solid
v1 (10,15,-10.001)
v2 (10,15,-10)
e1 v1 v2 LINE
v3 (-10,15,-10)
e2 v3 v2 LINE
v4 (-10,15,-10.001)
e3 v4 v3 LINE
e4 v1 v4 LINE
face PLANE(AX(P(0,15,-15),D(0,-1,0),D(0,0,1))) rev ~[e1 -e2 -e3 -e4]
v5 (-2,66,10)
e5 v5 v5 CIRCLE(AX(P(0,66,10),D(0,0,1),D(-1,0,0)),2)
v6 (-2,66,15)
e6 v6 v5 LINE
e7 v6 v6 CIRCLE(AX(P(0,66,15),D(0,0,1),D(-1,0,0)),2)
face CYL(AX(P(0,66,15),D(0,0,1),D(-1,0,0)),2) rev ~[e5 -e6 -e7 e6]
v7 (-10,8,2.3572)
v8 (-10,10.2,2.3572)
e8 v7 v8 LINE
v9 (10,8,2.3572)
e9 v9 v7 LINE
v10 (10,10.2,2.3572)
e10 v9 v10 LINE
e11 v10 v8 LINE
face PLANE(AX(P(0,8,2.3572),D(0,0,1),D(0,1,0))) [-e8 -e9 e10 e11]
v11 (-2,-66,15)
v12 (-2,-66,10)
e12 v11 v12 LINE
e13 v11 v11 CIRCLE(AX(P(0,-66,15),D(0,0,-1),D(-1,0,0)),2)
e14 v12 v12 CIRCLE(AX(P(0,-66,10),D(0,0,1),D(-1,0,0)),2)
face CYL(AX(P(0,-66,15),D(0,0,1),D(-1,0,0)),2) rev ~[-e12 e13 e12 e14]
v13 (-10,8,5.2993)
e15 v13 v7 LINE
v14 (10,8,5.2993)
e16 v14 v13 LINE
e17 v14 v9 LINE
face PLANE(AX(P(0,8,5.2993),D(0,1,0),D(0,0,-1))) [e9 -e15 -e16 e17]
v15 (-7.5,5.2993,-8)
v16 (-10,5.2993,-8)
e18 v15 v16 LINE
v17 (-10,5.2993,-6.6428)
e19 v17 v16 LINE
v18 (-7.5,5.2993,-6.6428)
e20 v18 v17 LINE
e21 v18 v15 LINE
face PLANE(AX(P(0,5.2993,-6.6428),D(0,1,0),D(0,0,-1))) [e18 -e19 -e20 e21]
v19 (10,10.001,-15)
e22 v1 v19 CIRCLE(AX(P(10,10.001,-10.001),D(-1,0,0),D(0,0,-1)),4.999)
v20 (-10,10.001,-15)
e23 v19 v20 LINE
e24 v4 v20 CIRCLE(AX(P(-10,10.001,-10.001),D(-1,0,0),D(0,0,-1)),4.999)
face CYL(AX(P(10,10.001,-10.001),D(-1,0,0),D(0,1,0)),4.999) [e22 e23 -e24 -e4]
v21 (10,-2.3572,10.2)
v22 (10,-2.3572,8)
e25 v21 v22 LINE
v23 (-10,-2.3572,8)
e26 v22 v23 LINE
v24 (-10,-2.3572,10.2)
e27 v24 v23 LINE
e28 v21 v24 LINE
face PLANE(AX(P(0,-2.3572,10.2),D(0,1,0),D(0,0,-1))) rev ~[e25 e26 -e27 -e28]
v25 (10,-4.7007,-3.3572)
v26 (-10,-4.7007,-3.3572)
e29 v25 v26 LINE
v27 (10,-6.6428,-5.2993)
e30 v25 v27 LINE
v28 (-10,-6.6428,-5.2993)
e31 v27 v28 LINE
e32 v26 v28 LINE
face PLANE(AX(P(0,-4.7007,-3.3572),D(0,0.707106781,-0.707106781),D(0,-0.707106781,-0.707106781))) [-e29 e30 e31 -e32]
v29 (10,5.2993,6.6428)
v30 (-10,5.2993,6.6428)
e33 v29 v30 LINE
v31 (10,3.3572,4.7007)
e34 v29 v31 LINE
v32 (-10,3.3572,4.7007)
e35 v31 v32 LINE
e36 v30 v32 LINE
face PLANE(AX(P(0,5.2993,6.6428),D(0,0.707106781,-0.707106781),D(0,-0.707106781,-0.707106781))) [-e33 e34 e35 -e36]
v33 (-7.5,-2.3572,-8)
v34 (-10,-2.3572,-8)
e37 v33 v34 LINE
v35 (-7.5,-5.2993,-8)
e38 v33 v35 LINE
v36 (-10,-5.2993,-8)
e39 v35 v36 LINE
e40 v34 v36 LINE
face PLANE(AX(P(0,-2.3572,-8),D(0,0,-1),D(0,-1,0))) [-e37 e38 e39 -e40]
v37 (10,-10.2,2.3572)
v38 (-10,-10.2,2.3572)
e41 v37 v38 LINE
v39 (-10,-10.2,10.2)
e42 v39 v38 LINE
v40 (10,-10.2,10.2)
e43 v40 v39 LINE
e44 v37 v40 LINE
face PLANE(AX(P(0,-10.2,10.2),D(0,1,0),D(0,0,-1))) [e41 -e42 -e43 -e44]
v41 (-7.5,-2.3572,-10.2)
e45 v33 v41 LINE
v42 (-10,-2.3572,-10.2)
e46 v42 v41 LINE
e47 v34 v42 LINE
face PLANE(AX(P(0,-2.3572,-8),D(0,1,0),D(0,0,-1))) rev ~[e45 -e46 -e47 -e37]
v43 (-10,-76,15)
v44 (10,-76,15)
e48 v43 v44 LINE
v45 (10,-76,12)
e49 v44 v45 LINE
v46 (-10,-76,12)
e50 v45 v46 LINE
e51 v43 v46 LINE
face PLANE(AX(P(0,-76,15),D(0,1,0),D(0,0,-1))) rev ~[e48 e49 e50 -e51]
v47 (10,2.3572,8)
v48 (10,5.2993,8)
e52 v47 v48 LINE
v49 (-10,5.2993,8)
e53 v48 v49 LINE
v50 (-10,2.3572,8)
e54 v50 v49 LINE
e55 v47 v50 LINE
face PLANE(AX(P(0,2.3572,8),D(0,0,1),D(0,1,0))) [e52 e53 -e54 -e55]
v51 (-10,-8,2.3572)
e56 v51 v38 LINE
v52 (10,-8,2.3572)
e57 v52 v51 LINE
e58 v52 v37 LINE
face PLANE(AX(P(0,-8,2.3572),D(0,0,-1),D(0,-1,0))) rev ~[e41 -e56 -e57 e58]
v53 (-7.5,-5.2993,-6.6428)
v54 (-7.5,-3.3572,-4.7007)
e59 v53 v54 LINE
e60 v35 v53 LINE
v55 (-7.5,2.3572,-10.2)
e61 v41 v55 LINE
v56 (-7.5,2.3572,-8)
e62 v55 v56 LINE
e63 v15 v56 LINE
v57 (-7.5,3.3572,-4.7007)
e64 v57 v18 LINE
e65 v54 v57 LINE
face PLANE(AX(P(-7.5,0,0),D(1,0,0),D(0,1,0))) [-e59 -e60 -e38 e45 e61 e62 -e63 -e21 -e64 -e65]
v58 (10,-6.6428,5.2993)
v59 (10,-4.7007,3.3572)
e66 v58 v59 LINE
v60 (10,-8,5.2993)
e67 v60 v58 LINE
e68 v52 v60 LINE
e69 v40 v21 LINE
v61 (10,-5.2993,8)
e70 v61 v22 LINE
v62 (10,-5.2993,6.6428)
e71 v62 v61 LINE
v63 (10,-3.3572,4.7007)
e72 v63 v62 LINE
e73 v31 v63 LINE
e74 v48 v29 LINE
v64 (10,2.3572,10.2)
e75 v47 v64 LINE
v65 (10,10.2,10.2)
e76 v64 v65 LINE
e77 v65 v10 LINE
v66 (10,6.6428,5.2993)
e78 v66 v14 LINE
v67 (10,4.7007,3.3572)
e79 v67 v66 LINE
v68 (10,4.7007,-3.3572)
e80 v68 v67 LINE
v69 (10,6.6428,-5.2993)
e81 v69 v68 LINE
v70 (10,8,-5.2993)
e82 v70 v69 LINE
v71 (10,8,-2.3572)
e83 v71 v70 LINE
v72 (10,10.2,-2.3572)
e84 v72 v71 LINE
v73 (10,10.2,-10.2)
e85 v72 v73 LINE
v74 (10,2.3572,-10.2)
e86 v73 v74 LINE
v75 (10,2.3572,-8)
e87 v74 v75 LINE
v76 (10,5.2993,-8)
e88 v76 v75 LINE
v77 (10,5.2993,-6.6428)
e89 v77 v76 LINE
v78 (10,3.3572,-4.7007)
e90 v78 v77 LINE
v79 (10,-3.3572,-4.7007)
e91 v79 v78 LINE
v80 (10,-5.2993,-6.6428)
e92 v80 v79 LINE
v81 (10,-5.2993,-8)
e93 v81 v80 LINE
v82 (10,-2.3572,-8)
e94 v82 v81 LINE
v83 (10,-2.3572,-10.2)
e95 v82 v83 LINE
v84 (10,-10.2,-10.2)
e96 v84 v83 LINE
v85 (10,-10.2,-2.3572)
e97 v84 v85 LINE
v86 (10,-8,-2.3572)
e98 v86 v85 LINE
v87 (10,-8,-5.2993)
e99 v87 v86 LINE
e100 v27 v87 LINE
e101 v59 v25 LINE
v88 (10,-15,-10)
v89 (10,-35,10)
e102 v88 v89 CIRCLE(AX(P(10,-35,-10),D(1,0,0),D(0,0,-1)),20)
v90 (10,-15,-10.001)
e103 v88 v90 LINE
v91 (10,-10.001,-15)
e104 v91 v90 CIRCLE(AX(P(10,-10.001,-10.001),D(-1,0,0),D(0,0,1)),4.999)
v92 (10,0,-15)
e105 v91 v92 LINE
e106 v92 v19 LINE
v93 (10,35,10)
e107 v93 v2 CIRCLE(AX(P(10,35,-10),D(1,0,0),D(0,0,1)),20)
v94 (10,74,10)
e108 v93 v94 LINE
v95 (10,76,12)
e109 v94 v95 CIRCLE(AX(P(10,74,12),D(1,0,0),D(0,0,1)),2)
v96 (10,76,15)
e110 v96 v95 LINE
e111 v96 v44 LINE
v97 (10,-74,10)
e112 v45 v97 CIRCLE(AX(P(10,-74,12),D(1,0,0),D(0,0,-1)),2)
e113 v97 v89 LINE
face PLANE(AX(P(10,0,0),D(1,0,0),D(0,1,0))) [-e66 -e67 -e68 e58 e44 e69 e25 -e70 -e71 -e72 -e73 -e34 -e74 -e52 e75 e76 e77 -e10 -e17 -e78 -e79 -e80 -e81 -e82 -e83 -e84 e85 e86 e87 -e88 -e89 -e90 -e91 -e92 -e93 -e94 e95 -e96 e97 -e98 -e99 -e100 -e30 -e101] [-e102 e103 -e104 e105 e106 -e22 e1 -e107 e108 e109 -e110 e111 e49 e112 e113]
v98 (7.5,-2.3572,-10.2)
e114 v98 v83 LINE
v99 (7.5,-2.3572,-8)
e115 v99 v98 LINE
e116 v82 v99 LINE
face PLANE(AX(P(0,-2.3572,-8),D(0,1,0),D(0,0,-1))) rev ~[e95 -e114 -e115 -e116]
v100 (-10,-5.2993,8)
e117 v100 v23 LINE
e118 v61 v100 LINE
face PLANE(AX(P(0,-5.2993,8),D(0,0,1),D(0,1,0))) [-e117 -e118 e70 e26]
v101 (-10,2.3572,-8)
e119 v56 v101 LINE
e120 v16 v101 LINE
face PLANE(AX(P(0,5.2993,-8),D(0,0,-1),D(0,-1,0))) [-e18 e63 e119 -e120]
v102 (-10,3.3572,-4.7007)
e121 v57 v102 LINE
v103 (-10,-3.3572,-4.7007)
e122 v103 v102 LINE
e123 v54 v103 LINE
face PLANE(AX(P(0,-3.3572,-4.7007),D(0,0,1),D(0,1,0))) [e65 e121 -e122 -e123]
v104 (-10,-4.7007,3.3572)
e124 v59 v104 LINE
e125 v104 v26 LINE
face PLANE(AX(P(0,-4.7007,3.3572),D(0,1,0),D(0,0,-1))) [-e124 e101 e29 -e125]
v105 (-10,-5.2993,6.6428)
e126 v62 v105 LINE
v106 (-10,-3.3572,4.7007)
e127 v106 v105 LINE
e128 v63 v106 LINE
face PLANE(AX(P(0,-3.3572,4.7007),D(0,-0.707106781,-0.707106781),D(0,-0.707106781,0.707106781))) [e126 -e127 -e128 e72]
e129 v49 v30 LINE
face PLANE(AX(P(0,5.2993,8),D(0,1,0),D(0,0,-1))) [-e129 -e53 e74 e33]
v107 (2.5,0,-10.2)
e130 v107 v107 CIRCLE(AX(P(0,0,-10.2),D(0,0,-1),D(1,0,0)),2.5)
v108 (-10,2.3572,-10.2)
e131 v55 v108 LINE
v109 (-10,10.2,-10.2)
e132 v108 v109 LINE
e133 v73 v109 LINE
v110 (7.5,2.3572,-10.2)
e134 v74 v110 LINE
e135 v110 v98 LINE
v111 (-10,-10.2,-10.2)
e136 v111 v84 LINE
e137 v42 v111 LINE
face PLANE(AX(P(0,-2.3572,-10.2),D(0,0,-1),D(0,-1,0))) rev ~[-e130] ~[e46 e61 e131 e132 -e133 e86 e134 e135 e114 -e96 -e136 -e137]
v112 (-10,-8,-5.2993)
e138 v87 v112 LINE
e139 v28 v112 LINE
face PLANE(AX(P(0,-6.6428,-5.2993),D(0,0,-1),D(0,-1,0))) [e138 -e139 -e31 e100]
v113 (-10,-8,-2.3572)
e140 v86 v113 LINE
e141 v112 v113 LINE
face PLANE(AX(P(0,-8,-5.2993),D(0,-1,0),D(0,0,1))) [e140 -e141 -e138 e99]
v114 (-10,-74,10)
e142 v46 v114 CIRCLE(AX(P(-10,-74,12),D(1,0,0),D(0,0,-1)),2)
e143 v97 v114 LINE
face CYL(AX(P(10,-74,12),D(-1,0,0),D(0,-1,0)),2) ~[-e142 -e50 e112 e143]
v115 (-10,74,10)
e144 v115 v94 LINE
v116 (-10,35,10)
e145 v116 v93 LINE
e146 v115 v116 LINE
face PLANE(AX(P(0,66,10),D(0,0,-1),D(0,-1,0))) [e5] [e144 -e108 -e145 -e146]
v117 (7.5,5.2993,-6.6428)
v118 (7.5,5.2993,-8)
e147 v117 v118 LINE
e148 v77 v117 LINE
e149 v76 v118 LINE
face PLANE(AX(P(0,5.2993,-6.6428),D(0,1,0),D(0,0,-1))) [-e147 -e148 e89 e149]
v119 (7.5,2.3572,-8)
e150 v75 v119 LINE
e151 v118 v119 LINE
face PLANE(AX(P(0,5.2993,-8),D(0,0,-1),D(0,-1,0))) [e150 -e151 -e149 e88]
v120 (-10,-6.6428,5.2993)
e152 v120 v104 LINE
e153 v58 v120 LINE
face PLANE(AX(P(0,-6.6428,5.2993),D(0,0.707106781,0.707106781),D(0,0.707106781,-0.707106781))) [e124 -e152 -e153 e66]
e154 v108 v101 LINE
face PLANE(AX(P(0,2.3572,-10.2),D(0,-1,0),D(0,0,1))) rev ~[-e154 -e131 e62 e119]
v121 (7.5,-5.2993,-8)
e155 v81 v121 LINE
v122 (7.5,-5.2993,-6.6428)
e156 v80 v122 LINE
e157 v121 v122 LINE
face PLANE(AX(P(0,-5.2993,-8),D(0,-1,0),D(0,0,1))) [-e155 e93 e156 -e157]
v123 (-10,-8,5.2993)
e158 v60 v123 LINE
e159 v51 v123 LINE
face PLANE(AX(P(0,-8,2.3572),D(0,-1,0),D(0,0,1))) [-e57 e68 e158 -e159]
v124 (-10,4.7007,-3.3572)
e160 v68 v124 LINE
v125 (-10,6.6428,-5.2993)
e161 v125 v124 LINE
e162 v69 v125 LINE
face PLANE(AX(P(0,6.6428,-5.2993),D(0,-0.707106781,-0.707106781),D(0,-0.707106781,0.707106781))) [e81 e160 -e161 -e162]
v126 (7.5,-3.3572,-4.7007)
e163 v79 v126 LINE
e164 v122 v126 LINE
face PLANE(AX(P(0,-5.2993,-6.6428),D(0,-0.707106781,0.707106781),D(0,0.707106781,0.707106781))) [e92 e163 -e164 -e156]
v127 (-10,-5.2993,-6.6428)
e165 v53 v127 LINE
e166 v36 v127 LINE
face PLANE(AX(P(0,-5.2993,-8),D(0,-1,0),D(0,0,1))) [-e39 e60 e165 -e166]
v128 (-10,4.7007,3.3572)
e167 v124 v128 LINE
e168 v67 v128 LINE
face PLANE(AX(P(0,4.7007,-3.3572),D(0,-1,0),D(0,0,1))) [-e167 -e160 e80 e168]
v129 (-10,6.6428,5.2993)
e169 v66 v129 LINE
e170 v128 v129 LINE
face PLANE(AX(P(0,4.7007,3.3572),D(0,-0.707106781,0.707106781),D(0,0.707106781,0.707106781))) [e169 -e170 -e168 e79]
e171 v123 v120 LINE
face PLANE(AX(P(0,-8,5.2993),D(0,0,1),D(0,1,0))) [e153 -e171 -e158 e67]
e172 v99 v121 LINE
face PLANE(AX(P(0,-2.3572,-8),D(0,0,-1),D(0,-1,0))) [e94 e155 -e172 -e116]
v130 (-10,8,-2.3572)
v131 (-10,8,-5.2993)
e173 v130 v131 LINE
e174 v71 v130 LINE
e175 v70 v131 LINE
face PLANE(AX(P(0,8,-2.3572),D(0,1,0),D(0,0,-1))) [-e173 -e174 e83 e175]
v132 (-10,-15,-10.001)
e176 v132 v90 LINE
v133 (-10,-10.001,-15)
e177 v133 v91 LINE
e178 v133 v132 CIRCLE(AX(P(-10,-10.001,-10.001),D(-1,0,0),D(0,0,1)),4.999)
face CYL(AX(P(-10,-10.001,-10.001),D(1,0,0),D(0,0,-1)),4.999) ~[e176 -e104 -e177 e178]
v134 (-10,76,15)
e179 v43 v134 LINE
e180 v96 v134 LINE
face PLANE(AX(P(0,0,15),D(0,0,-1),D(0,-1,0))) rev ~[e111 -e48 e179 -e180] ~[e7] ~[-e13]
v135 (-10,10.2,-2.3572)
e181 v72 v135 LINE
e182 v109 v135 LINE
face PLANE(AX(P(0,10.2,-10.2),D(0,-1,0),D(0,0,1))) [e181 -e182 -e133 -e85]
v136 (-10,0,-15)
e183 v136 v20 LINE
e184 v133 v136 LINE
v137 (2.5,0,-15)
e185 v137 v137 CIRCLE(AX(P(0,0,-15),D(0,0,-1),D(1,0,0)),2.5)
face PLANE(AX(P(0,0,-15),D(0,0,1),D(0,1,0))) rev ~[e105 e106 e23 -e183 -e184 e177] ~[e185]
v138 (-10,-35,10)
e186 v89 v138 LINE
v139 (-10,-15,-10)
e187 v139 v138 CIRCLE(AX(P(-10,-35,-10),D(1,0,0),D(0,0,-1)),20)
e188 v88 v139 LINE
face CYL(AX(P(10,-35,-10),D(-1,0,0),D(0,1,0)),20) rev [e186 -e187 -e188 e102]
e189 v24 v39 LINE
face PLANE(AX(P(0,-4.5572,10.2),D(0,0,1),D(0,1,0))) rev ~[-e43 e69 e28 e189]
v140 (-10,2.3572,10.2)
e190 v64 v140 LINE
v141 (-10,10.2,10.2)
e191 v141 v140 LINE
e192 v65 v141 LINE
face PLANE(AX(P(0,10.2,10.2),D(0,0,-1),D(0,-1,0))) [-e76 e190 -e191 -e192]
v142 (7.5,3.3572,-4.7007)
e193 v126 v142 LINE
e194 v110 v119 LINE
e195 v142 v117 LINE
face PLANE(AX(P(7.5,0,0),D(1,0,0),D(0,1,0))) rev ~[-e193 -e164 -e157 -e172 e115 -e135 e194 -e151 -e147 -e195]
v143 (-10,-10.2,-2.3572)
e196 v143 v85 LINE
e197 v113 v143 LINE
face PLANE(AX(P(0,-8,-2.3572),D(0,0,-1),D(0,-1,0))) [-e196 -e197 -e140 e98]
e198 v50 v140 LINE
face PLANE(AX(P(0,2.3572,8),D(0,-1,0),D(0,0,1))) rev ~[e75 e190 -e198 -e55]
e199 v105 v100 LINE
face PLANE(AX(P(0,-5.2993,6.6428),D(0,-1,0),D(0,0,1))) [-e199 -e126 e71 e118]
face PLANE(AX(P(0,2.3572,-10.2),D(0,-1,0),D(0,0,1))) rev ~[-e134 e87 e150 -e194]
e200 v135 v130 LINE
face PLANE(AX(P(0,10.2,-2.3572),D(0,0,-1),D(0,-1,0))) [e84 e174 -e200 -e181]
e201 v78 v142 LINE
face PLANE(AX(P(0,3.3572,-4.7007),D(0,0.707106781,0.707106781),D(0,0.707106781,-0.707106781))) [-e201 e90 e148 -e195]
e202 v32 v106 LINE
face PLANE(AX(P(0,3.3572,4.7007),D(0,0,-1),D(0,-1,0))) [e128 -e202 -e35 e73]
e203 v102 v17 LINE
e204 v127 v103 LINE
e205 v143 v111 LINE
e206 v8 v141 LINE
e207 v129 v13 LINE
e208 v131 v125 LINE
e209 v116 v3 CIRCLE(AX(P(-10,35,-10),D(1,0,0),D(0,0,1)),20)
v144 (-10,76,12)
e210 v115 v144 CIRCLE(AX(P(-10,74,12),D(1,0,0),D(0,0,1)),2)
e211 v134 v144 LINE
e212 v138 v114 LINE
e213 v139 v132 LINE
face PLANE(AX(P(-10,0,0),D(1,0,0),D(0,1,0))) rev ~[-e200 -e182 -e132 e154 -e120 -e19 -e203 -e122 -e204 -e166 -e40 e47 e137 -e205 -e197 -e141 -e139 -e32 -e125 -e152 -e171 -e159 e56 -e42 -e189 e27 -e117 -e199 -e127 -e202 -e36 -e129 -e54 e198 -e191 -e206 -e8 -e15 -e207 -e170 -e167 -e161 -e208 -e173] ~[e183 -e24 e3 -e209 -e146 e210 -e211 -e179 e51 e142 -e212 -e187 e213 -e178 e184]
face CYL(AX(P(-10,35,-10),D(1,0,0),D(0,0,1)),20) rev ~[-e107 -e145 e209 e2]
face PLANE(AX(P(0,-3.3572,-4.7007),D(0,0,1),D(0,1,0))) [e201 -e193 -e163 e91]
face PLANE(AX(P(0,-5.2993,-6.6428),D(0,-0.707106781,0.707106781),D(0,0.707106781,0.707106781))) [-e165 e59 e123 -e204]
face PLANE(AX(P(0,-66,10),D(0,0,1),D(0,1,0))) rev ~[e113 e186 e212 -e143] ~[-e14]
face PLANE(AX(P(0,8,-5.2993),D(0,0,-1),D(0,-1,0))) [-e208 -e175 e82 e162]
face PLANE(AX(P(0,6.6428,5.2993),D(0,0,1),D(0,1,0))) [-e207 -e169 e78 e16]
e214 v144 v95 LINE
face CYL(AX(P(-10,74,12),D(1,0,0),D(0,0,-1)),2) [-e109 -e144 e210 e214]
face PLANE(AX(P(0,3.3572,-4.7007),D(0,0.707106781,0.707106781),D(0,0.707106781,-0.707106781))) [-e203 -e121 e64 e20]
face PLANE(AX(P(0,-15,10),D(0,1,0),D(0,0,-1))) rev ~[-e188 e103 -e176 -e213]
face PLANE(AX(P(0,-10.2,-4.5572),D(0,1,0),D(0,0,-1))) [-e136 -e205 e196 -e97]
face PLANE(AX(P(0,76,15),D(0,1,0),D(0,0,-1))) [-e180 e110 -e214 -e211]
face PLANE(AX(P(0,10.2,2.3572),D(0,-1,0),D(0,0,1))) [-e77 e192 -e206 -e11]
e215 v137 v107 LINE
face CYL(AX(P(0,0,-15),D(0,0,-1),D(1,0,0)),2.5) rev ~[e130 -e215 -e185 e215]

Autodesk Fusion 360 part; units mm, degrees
sketch "Sketch1" plane through (0, 0, 0) normal (1, 0, 0) x (0, 1, 0)
  line L0 (3.44, 4.5007) -> (-3.44, 4.5007)
  line L1 (2.3572, -10.2) -> (2.3572, -8)
  line L2 (5.2993, 8) -> (5.2993, 6.6428)
  line L3 (-8.2, 5.4993) -> (-6.56, 5.4993)
  line L4 (4.7007, 3.3572) -> (6.6428, 5.2993)
  line L5 (5.2993, -6.6428) -> (5.2993, -8)
  line L6 (-8.2, -5.4993) -> (-8.2, -2.84)
  line L7 (-5.4993, -6.56) -> (-3.44, -4.5007)
  line L8 (-3.3572, 4.7007) -> (-5.2993, 6.6428)
  line L9 (8, 2.3572) -> (10.2, 4.5572)
  line L10 (10, -10) -> (10, -4.64)
  line L11 (10.2, -2.3572) -> (8, -2.3572)
  line L12 (5.4993, 6.56) -> (3.44, 4.5007)
  line L13 (8.2, 2.84) -> (10, 4.64)
  line L14 (-5.2993, 6.6428) -> (-5.2993, 8)
  line L15 (-8.2, 2.84) -> (-8.2, 5.4993)
  line L16 (-6.6428, -5.2993) -> (-8, -5.2993)
  line L17 (-10, 4.64) -> (-8.2, 2.84)
  line L18 (10.2, 10.2) -> (4.5572, 10.2)
  line L19 (-4.5572, 10.2) -> (-10.2, 10.2)
  line L20 (3.3572, 4.7007) -> (-3.3572, 4.7007)
  line L21 (-10.2, 2.3572) -> (-10.2, 4.5572)
  line L22 (10, 4.64) -> (10, 10)
  line L23 (-2.3572, 10.2) -> (-2.3572, 8)
  line L24 (-8, 2.3572) -> (-10.2, 2.3572)
  line L25 (-2.3572, 8) -> (-4.5572, 10.2)
  line L26 (6.56, 5.4993) -> (8.2, 5.4993)
  line L27 (-2.84, -8.2) -> (-5.4993, -8.2)
  line L28 (8, 2.3572) -> (10.2, 2.3572)
  line L29 (4.5007, 3.44) -> (6.56, 5.4993)
  line L30 (2.3572, -8) -> (4.5572, -10.2)
  line L31 (10.2, 2.3572) -> (10.2, 4.5572)
  line L32 (2.84, 8.2) -> (5.4993, 8.2)
  line L33 (4.64, 10) -> (2.84, 8.2)
  line L34 (4.5572, 10.2) -> (2.3572, 8)
  line L35 (10.2, -4.5572) -> (10.2, -2.3572)
  line L36 (10, -4.64) -> (8.2, -2.84)
  line L37 (10.2, -10.2) -> (10.2, -4.5572)
  line L38 (-3.3572, -4.7007) -> (3.3572, -4.7007)
  line L39 (-3.44, -4.5007) -> (3.44, -4.5007)
  line L40 (5.4993, -8.2) -> (2.84, -8.2)
  line L41 (5.4993, -6.56) -> (5.4993, -8.2)
  line L42 (8, -5.2993) -> (6.6428, -5.2993)
  line L43 (4.7007, -3.3572) -> (4.7007, 3.3572)
  line L44 (6.6428, -5.2993) -> (4.7007, -3.3572)
  line L45 (5.2993, -8) -> (2.3572, -8)
  line L46 (4.5572, -10.2) -> (10.2, -10.2)
  circle A0 centre (0, 0) radius 2.5
  line L47 (-15, 15) -> (15, -15) construction
  line L48 (10.2, -4.5572) -> (8, -2.3572)
  line L49 (8.2, -5.4993) -> (6.56, -5.4993)
  line L50 (4.5007, -3.44) -> (4.5007, 3.44)
  line L51 (15, -15) -> (15, 15)
  line L52 (8.2, -2.84) -> (8.2, -5.4993)
  line L53 (4.5572, -10.2) -> (2.3572, -10.2)
  line L54 (-15, -15) -> (15, -15)
  line L55 (15, 15) -> (-15, 15)
  line L56 (4.64, -10) -> (10, -10)
  line L57 (6.56, -5.4993) -> (4.5007, -3.44)
  line L58 (-15, 15) -> (-15, -15)
  line L59 (3.3572, -4.7007) -> (5.2993, -6.6428)
  line L60 (2.84, -8.2) -> (4.64, -10)
  line L61 (8, -2.3572) -> (8, -5.2993)
  line L62 (3.44, -4.5007) -> (5.4993, -6.56)
  line L63 (15, 15) -> (-15, -15) construction
  line L64 (-8.2, -2.84) -> (-10, -4.64)
  line L65 (-8, 5.2993) -> (-6.6428, 5.2993)
  line L66 (-8, -5.2993) -> (-8, -2.3572)
  line L67 (-3.44, 4.5007) -> (-5.4993, 6.56)
  line L68 (-5.4993, -8.2) -> (-5.4993, -6.56)
  line L69 (-4.5007, 3.44) -> (-4.5007, -3.44)
  line L70 (-5.4993, 6.56) -> (-5.4993, 8.2)
  line L71 (-10, -4.64) -> (-10, -10)
  line L72 (-10.2, 4.5572) -> (-8, 2.3572)
  line L73 (10.2, 4.5572) -> (10.2, 10.2)
  line L74 (8, 5.2993) -> (8, 2.3572)
  line L75 (2.3572, 8) -> (5.2993, 8)
  line L76 (-8, -2.3572) -> (-10.2, -4.5572)
  line L77 (-5.2993, -6.6428) -> (-3.3572, -4.7007)
  line L78 (-4.5572, -10.2) -> (-2.3572, -8)
  line L79 (-8, -2.3572) -> (-10.2, -2.3572)
  line L80 (5.4993, 8.2) -> (5.4993, 6.56)
  line L81 (-2.3572, -10.2) -> (-4.5572, -10.2)
  line L82 (-2.84, 8.2) -> (-4.64, 10)
  line L83 (-10, -10) -> (-4.64, -10)
  line L84 (-8, 2.3572) -> (-8, 5.2993)
  line L85 (2.3572, 10.2) -> (4.5572, 10.2)
  line L86 (8.2, 5.4993) -> (8.2, 2.84)
  line L87 (-10, 10) -> (-10, 4.64)
  line L88 (-5.2993, 8) -> (-2.3572, 8)
  line L89 (-10.2, -2.3572) -> (-10.2, -4.5572)
  line L90 (-10.2, -4.5572) -> (-10.2, -10.2)
  line L91 (-6.56, -5.4993) -> (-8.2, -5.4993)
  line L92 (-4.64, 10) -> (-10, 10)
  line L93 (-5.4993, 8.2) -> (-2.84, 8.2)
  line L94 (-6.56, 5.4993) -> (-4.5007, 3.44)
  line L95 (-2.3572, -8) -> (-2.3572, -10.2)
  line L96 (-4.5007, -3.44) -> (-6.56, -5.4993)
  line L97 (-4.64, -10) -> (-2.84, -8.2)
  line L98 (-10.2, -10.2) -> (-4.5572, -10.2)
  line L99 (-5.2993, -8) -> (-5.2993, -6.6428)
  line L100 (6.6428, 5.2993) -> (8, 5.2993)
  line L101 (5.2993, 6.6428) -> (3.3572, 4.7007)
  line L102 (-2.3572, -8) -> (-5.2993, -8)
  line L103 (10, 10) -> (4.64, 10)
  line L104 (-6.6428, 5.2993) -> (-4.7007, 3.3572)
  line L105 (-4.7007, -3.3572) -> (-6.6428, -5.2993)
  line L106 (-4.5572, 10.2) -> (-2.3572, 10.2)
  line L107 (-4.7007, 3.3572) -> (-4.7007, -3.3572)
  line L108 (2.3572, 8) -> (2.3572, 10.2)
  line L109 (-10.2, 10.2) -> (-10.2, 4.5572)
  line L110 (0, 15) -> (66, 15)
  line L111 (66, 15) -> (66, 10)
  line L112 (66, 10) -> (15, 10)
  line L113 (0, 15) -> (-66, 15)
  line L114 (-66, 15) -> (-66, 10)
  line L115 (-66, 10) -> (-15, 10)
  line L116 (66, 15) -> (76, 15)
  line L117 (76, 15) -> (76, 10)
  line L118 (76, 10) -> (66, 10)
  line L119 (66, 10) -> (66, 15)
  line L120 (-66, 15) -> (-76, 15)
  line L121 (-76, 15) -> (-76, 10)
  line L122 (-76, 10) -> (-66, 10)
  line L123 (-66, 10) -> (-66, 15)
  line L124 (-2.3572, -10.2) -> (2.3572, -10.2)
  line L125 (0, -10.2) -> (0, -15)
  dimension "d143" = 0.2
  dimension "d2" = 30
  dimension "d3" = 30
  dimension "d13" = 5
  dimension "d5" = 66
  dimension "d6" = 5
  dimension "d7" = 66
  dimension "d8" = 5
  dimension "d9" = 10
  dimension "d10" = 5
  dimension "d11" = 10
  dimension "d12" = 5
extrude "Extrude1" add sketch "Sketch1" along normal mid plane 20 contours L1 L5 L38 L45 L59 L77 L95 L99 L102 L124 | L51 L54 L55 L58 L110 L113 | L58 L113 L114 L115 L123 | L51 L110 L111 L112 L119 | L114 L120 L121 L122 L123 | L111 L116 L117 L118 L119
extrude "Extrude2" cut sketch "Sketch1" along normal mid plane 15 contours L1 L5 L38 L45 L59 L77 L95 L99 L102 L124
sketch "Sketch2" plane through (0, 0, -15) normal (0, 0, -1) x (1, 0, 0)
  line L0 (-10, -15) -> (10, -15)
  line L1 (10, -15) -> (10, 15)
  line L2 (10, 15) -> (-10, 15)
  line L3 (-10, 15) -> (-10, -15)
  circle A0 centre (0, 0) radius 2.5
  dimension "d18" = 5
extrude "Extrude3" cut sketch "Sketch2" against normal blind 17 contours A0
sketch "Sketch3" plane through (0, 0, 15) normal (0, 0, 1) x (-1, 0, 0)
  line L0 (10, 76) -> (-10, 76)
  line L1 (-10, 76) -> (-10, -76)
  line L2 (-10, -76) -> (10, -76)
  line L3 (10, -76) -> (10, 76)
  circle A0 centre (0, 66) radius 2
  line L4 (0, 66) -> (0, 76)
  circle A1 centre (0, -66) radius 2
  line L5 (-10, 76) -> (10, 76)
  line L6 (10, 76) -> (10, 75)
  line L7 (10, 75) -> (-10, 75)
  line L8 (-10, 75) -> (-10, 76)
  line L9 (-10, -76) -> (10, -76)
  line L10 (10, -76) -> (10, -75)
  line L11 (10, -75) -> (-10, -75)
  line L12 (-10, -75) -> (-10, -76)
  point P0 (0, -66)
  dimension "d21" = 4
  dimension "d22" = 4
  dimension "d25" = 1
  dimension "d26" = 20
  dimension "d27" = 1
extrude "Extrude4" cut sketch "Sketch3" against normal blind 20 contours A0 | A1
fillet "Fillet2" radius 2 2 edges at (0, 76, 10) (0, -76, 10)
fillet "Fillet3" radius 20 2 edges at (0, -15, 10) (0, 15, 10)
fillet "Fillet4" radius 5 2 edges at (0, 15, -15) (0, -15, -15)
equation "d5 = ( 132 / 2 ) * 1 mm"
